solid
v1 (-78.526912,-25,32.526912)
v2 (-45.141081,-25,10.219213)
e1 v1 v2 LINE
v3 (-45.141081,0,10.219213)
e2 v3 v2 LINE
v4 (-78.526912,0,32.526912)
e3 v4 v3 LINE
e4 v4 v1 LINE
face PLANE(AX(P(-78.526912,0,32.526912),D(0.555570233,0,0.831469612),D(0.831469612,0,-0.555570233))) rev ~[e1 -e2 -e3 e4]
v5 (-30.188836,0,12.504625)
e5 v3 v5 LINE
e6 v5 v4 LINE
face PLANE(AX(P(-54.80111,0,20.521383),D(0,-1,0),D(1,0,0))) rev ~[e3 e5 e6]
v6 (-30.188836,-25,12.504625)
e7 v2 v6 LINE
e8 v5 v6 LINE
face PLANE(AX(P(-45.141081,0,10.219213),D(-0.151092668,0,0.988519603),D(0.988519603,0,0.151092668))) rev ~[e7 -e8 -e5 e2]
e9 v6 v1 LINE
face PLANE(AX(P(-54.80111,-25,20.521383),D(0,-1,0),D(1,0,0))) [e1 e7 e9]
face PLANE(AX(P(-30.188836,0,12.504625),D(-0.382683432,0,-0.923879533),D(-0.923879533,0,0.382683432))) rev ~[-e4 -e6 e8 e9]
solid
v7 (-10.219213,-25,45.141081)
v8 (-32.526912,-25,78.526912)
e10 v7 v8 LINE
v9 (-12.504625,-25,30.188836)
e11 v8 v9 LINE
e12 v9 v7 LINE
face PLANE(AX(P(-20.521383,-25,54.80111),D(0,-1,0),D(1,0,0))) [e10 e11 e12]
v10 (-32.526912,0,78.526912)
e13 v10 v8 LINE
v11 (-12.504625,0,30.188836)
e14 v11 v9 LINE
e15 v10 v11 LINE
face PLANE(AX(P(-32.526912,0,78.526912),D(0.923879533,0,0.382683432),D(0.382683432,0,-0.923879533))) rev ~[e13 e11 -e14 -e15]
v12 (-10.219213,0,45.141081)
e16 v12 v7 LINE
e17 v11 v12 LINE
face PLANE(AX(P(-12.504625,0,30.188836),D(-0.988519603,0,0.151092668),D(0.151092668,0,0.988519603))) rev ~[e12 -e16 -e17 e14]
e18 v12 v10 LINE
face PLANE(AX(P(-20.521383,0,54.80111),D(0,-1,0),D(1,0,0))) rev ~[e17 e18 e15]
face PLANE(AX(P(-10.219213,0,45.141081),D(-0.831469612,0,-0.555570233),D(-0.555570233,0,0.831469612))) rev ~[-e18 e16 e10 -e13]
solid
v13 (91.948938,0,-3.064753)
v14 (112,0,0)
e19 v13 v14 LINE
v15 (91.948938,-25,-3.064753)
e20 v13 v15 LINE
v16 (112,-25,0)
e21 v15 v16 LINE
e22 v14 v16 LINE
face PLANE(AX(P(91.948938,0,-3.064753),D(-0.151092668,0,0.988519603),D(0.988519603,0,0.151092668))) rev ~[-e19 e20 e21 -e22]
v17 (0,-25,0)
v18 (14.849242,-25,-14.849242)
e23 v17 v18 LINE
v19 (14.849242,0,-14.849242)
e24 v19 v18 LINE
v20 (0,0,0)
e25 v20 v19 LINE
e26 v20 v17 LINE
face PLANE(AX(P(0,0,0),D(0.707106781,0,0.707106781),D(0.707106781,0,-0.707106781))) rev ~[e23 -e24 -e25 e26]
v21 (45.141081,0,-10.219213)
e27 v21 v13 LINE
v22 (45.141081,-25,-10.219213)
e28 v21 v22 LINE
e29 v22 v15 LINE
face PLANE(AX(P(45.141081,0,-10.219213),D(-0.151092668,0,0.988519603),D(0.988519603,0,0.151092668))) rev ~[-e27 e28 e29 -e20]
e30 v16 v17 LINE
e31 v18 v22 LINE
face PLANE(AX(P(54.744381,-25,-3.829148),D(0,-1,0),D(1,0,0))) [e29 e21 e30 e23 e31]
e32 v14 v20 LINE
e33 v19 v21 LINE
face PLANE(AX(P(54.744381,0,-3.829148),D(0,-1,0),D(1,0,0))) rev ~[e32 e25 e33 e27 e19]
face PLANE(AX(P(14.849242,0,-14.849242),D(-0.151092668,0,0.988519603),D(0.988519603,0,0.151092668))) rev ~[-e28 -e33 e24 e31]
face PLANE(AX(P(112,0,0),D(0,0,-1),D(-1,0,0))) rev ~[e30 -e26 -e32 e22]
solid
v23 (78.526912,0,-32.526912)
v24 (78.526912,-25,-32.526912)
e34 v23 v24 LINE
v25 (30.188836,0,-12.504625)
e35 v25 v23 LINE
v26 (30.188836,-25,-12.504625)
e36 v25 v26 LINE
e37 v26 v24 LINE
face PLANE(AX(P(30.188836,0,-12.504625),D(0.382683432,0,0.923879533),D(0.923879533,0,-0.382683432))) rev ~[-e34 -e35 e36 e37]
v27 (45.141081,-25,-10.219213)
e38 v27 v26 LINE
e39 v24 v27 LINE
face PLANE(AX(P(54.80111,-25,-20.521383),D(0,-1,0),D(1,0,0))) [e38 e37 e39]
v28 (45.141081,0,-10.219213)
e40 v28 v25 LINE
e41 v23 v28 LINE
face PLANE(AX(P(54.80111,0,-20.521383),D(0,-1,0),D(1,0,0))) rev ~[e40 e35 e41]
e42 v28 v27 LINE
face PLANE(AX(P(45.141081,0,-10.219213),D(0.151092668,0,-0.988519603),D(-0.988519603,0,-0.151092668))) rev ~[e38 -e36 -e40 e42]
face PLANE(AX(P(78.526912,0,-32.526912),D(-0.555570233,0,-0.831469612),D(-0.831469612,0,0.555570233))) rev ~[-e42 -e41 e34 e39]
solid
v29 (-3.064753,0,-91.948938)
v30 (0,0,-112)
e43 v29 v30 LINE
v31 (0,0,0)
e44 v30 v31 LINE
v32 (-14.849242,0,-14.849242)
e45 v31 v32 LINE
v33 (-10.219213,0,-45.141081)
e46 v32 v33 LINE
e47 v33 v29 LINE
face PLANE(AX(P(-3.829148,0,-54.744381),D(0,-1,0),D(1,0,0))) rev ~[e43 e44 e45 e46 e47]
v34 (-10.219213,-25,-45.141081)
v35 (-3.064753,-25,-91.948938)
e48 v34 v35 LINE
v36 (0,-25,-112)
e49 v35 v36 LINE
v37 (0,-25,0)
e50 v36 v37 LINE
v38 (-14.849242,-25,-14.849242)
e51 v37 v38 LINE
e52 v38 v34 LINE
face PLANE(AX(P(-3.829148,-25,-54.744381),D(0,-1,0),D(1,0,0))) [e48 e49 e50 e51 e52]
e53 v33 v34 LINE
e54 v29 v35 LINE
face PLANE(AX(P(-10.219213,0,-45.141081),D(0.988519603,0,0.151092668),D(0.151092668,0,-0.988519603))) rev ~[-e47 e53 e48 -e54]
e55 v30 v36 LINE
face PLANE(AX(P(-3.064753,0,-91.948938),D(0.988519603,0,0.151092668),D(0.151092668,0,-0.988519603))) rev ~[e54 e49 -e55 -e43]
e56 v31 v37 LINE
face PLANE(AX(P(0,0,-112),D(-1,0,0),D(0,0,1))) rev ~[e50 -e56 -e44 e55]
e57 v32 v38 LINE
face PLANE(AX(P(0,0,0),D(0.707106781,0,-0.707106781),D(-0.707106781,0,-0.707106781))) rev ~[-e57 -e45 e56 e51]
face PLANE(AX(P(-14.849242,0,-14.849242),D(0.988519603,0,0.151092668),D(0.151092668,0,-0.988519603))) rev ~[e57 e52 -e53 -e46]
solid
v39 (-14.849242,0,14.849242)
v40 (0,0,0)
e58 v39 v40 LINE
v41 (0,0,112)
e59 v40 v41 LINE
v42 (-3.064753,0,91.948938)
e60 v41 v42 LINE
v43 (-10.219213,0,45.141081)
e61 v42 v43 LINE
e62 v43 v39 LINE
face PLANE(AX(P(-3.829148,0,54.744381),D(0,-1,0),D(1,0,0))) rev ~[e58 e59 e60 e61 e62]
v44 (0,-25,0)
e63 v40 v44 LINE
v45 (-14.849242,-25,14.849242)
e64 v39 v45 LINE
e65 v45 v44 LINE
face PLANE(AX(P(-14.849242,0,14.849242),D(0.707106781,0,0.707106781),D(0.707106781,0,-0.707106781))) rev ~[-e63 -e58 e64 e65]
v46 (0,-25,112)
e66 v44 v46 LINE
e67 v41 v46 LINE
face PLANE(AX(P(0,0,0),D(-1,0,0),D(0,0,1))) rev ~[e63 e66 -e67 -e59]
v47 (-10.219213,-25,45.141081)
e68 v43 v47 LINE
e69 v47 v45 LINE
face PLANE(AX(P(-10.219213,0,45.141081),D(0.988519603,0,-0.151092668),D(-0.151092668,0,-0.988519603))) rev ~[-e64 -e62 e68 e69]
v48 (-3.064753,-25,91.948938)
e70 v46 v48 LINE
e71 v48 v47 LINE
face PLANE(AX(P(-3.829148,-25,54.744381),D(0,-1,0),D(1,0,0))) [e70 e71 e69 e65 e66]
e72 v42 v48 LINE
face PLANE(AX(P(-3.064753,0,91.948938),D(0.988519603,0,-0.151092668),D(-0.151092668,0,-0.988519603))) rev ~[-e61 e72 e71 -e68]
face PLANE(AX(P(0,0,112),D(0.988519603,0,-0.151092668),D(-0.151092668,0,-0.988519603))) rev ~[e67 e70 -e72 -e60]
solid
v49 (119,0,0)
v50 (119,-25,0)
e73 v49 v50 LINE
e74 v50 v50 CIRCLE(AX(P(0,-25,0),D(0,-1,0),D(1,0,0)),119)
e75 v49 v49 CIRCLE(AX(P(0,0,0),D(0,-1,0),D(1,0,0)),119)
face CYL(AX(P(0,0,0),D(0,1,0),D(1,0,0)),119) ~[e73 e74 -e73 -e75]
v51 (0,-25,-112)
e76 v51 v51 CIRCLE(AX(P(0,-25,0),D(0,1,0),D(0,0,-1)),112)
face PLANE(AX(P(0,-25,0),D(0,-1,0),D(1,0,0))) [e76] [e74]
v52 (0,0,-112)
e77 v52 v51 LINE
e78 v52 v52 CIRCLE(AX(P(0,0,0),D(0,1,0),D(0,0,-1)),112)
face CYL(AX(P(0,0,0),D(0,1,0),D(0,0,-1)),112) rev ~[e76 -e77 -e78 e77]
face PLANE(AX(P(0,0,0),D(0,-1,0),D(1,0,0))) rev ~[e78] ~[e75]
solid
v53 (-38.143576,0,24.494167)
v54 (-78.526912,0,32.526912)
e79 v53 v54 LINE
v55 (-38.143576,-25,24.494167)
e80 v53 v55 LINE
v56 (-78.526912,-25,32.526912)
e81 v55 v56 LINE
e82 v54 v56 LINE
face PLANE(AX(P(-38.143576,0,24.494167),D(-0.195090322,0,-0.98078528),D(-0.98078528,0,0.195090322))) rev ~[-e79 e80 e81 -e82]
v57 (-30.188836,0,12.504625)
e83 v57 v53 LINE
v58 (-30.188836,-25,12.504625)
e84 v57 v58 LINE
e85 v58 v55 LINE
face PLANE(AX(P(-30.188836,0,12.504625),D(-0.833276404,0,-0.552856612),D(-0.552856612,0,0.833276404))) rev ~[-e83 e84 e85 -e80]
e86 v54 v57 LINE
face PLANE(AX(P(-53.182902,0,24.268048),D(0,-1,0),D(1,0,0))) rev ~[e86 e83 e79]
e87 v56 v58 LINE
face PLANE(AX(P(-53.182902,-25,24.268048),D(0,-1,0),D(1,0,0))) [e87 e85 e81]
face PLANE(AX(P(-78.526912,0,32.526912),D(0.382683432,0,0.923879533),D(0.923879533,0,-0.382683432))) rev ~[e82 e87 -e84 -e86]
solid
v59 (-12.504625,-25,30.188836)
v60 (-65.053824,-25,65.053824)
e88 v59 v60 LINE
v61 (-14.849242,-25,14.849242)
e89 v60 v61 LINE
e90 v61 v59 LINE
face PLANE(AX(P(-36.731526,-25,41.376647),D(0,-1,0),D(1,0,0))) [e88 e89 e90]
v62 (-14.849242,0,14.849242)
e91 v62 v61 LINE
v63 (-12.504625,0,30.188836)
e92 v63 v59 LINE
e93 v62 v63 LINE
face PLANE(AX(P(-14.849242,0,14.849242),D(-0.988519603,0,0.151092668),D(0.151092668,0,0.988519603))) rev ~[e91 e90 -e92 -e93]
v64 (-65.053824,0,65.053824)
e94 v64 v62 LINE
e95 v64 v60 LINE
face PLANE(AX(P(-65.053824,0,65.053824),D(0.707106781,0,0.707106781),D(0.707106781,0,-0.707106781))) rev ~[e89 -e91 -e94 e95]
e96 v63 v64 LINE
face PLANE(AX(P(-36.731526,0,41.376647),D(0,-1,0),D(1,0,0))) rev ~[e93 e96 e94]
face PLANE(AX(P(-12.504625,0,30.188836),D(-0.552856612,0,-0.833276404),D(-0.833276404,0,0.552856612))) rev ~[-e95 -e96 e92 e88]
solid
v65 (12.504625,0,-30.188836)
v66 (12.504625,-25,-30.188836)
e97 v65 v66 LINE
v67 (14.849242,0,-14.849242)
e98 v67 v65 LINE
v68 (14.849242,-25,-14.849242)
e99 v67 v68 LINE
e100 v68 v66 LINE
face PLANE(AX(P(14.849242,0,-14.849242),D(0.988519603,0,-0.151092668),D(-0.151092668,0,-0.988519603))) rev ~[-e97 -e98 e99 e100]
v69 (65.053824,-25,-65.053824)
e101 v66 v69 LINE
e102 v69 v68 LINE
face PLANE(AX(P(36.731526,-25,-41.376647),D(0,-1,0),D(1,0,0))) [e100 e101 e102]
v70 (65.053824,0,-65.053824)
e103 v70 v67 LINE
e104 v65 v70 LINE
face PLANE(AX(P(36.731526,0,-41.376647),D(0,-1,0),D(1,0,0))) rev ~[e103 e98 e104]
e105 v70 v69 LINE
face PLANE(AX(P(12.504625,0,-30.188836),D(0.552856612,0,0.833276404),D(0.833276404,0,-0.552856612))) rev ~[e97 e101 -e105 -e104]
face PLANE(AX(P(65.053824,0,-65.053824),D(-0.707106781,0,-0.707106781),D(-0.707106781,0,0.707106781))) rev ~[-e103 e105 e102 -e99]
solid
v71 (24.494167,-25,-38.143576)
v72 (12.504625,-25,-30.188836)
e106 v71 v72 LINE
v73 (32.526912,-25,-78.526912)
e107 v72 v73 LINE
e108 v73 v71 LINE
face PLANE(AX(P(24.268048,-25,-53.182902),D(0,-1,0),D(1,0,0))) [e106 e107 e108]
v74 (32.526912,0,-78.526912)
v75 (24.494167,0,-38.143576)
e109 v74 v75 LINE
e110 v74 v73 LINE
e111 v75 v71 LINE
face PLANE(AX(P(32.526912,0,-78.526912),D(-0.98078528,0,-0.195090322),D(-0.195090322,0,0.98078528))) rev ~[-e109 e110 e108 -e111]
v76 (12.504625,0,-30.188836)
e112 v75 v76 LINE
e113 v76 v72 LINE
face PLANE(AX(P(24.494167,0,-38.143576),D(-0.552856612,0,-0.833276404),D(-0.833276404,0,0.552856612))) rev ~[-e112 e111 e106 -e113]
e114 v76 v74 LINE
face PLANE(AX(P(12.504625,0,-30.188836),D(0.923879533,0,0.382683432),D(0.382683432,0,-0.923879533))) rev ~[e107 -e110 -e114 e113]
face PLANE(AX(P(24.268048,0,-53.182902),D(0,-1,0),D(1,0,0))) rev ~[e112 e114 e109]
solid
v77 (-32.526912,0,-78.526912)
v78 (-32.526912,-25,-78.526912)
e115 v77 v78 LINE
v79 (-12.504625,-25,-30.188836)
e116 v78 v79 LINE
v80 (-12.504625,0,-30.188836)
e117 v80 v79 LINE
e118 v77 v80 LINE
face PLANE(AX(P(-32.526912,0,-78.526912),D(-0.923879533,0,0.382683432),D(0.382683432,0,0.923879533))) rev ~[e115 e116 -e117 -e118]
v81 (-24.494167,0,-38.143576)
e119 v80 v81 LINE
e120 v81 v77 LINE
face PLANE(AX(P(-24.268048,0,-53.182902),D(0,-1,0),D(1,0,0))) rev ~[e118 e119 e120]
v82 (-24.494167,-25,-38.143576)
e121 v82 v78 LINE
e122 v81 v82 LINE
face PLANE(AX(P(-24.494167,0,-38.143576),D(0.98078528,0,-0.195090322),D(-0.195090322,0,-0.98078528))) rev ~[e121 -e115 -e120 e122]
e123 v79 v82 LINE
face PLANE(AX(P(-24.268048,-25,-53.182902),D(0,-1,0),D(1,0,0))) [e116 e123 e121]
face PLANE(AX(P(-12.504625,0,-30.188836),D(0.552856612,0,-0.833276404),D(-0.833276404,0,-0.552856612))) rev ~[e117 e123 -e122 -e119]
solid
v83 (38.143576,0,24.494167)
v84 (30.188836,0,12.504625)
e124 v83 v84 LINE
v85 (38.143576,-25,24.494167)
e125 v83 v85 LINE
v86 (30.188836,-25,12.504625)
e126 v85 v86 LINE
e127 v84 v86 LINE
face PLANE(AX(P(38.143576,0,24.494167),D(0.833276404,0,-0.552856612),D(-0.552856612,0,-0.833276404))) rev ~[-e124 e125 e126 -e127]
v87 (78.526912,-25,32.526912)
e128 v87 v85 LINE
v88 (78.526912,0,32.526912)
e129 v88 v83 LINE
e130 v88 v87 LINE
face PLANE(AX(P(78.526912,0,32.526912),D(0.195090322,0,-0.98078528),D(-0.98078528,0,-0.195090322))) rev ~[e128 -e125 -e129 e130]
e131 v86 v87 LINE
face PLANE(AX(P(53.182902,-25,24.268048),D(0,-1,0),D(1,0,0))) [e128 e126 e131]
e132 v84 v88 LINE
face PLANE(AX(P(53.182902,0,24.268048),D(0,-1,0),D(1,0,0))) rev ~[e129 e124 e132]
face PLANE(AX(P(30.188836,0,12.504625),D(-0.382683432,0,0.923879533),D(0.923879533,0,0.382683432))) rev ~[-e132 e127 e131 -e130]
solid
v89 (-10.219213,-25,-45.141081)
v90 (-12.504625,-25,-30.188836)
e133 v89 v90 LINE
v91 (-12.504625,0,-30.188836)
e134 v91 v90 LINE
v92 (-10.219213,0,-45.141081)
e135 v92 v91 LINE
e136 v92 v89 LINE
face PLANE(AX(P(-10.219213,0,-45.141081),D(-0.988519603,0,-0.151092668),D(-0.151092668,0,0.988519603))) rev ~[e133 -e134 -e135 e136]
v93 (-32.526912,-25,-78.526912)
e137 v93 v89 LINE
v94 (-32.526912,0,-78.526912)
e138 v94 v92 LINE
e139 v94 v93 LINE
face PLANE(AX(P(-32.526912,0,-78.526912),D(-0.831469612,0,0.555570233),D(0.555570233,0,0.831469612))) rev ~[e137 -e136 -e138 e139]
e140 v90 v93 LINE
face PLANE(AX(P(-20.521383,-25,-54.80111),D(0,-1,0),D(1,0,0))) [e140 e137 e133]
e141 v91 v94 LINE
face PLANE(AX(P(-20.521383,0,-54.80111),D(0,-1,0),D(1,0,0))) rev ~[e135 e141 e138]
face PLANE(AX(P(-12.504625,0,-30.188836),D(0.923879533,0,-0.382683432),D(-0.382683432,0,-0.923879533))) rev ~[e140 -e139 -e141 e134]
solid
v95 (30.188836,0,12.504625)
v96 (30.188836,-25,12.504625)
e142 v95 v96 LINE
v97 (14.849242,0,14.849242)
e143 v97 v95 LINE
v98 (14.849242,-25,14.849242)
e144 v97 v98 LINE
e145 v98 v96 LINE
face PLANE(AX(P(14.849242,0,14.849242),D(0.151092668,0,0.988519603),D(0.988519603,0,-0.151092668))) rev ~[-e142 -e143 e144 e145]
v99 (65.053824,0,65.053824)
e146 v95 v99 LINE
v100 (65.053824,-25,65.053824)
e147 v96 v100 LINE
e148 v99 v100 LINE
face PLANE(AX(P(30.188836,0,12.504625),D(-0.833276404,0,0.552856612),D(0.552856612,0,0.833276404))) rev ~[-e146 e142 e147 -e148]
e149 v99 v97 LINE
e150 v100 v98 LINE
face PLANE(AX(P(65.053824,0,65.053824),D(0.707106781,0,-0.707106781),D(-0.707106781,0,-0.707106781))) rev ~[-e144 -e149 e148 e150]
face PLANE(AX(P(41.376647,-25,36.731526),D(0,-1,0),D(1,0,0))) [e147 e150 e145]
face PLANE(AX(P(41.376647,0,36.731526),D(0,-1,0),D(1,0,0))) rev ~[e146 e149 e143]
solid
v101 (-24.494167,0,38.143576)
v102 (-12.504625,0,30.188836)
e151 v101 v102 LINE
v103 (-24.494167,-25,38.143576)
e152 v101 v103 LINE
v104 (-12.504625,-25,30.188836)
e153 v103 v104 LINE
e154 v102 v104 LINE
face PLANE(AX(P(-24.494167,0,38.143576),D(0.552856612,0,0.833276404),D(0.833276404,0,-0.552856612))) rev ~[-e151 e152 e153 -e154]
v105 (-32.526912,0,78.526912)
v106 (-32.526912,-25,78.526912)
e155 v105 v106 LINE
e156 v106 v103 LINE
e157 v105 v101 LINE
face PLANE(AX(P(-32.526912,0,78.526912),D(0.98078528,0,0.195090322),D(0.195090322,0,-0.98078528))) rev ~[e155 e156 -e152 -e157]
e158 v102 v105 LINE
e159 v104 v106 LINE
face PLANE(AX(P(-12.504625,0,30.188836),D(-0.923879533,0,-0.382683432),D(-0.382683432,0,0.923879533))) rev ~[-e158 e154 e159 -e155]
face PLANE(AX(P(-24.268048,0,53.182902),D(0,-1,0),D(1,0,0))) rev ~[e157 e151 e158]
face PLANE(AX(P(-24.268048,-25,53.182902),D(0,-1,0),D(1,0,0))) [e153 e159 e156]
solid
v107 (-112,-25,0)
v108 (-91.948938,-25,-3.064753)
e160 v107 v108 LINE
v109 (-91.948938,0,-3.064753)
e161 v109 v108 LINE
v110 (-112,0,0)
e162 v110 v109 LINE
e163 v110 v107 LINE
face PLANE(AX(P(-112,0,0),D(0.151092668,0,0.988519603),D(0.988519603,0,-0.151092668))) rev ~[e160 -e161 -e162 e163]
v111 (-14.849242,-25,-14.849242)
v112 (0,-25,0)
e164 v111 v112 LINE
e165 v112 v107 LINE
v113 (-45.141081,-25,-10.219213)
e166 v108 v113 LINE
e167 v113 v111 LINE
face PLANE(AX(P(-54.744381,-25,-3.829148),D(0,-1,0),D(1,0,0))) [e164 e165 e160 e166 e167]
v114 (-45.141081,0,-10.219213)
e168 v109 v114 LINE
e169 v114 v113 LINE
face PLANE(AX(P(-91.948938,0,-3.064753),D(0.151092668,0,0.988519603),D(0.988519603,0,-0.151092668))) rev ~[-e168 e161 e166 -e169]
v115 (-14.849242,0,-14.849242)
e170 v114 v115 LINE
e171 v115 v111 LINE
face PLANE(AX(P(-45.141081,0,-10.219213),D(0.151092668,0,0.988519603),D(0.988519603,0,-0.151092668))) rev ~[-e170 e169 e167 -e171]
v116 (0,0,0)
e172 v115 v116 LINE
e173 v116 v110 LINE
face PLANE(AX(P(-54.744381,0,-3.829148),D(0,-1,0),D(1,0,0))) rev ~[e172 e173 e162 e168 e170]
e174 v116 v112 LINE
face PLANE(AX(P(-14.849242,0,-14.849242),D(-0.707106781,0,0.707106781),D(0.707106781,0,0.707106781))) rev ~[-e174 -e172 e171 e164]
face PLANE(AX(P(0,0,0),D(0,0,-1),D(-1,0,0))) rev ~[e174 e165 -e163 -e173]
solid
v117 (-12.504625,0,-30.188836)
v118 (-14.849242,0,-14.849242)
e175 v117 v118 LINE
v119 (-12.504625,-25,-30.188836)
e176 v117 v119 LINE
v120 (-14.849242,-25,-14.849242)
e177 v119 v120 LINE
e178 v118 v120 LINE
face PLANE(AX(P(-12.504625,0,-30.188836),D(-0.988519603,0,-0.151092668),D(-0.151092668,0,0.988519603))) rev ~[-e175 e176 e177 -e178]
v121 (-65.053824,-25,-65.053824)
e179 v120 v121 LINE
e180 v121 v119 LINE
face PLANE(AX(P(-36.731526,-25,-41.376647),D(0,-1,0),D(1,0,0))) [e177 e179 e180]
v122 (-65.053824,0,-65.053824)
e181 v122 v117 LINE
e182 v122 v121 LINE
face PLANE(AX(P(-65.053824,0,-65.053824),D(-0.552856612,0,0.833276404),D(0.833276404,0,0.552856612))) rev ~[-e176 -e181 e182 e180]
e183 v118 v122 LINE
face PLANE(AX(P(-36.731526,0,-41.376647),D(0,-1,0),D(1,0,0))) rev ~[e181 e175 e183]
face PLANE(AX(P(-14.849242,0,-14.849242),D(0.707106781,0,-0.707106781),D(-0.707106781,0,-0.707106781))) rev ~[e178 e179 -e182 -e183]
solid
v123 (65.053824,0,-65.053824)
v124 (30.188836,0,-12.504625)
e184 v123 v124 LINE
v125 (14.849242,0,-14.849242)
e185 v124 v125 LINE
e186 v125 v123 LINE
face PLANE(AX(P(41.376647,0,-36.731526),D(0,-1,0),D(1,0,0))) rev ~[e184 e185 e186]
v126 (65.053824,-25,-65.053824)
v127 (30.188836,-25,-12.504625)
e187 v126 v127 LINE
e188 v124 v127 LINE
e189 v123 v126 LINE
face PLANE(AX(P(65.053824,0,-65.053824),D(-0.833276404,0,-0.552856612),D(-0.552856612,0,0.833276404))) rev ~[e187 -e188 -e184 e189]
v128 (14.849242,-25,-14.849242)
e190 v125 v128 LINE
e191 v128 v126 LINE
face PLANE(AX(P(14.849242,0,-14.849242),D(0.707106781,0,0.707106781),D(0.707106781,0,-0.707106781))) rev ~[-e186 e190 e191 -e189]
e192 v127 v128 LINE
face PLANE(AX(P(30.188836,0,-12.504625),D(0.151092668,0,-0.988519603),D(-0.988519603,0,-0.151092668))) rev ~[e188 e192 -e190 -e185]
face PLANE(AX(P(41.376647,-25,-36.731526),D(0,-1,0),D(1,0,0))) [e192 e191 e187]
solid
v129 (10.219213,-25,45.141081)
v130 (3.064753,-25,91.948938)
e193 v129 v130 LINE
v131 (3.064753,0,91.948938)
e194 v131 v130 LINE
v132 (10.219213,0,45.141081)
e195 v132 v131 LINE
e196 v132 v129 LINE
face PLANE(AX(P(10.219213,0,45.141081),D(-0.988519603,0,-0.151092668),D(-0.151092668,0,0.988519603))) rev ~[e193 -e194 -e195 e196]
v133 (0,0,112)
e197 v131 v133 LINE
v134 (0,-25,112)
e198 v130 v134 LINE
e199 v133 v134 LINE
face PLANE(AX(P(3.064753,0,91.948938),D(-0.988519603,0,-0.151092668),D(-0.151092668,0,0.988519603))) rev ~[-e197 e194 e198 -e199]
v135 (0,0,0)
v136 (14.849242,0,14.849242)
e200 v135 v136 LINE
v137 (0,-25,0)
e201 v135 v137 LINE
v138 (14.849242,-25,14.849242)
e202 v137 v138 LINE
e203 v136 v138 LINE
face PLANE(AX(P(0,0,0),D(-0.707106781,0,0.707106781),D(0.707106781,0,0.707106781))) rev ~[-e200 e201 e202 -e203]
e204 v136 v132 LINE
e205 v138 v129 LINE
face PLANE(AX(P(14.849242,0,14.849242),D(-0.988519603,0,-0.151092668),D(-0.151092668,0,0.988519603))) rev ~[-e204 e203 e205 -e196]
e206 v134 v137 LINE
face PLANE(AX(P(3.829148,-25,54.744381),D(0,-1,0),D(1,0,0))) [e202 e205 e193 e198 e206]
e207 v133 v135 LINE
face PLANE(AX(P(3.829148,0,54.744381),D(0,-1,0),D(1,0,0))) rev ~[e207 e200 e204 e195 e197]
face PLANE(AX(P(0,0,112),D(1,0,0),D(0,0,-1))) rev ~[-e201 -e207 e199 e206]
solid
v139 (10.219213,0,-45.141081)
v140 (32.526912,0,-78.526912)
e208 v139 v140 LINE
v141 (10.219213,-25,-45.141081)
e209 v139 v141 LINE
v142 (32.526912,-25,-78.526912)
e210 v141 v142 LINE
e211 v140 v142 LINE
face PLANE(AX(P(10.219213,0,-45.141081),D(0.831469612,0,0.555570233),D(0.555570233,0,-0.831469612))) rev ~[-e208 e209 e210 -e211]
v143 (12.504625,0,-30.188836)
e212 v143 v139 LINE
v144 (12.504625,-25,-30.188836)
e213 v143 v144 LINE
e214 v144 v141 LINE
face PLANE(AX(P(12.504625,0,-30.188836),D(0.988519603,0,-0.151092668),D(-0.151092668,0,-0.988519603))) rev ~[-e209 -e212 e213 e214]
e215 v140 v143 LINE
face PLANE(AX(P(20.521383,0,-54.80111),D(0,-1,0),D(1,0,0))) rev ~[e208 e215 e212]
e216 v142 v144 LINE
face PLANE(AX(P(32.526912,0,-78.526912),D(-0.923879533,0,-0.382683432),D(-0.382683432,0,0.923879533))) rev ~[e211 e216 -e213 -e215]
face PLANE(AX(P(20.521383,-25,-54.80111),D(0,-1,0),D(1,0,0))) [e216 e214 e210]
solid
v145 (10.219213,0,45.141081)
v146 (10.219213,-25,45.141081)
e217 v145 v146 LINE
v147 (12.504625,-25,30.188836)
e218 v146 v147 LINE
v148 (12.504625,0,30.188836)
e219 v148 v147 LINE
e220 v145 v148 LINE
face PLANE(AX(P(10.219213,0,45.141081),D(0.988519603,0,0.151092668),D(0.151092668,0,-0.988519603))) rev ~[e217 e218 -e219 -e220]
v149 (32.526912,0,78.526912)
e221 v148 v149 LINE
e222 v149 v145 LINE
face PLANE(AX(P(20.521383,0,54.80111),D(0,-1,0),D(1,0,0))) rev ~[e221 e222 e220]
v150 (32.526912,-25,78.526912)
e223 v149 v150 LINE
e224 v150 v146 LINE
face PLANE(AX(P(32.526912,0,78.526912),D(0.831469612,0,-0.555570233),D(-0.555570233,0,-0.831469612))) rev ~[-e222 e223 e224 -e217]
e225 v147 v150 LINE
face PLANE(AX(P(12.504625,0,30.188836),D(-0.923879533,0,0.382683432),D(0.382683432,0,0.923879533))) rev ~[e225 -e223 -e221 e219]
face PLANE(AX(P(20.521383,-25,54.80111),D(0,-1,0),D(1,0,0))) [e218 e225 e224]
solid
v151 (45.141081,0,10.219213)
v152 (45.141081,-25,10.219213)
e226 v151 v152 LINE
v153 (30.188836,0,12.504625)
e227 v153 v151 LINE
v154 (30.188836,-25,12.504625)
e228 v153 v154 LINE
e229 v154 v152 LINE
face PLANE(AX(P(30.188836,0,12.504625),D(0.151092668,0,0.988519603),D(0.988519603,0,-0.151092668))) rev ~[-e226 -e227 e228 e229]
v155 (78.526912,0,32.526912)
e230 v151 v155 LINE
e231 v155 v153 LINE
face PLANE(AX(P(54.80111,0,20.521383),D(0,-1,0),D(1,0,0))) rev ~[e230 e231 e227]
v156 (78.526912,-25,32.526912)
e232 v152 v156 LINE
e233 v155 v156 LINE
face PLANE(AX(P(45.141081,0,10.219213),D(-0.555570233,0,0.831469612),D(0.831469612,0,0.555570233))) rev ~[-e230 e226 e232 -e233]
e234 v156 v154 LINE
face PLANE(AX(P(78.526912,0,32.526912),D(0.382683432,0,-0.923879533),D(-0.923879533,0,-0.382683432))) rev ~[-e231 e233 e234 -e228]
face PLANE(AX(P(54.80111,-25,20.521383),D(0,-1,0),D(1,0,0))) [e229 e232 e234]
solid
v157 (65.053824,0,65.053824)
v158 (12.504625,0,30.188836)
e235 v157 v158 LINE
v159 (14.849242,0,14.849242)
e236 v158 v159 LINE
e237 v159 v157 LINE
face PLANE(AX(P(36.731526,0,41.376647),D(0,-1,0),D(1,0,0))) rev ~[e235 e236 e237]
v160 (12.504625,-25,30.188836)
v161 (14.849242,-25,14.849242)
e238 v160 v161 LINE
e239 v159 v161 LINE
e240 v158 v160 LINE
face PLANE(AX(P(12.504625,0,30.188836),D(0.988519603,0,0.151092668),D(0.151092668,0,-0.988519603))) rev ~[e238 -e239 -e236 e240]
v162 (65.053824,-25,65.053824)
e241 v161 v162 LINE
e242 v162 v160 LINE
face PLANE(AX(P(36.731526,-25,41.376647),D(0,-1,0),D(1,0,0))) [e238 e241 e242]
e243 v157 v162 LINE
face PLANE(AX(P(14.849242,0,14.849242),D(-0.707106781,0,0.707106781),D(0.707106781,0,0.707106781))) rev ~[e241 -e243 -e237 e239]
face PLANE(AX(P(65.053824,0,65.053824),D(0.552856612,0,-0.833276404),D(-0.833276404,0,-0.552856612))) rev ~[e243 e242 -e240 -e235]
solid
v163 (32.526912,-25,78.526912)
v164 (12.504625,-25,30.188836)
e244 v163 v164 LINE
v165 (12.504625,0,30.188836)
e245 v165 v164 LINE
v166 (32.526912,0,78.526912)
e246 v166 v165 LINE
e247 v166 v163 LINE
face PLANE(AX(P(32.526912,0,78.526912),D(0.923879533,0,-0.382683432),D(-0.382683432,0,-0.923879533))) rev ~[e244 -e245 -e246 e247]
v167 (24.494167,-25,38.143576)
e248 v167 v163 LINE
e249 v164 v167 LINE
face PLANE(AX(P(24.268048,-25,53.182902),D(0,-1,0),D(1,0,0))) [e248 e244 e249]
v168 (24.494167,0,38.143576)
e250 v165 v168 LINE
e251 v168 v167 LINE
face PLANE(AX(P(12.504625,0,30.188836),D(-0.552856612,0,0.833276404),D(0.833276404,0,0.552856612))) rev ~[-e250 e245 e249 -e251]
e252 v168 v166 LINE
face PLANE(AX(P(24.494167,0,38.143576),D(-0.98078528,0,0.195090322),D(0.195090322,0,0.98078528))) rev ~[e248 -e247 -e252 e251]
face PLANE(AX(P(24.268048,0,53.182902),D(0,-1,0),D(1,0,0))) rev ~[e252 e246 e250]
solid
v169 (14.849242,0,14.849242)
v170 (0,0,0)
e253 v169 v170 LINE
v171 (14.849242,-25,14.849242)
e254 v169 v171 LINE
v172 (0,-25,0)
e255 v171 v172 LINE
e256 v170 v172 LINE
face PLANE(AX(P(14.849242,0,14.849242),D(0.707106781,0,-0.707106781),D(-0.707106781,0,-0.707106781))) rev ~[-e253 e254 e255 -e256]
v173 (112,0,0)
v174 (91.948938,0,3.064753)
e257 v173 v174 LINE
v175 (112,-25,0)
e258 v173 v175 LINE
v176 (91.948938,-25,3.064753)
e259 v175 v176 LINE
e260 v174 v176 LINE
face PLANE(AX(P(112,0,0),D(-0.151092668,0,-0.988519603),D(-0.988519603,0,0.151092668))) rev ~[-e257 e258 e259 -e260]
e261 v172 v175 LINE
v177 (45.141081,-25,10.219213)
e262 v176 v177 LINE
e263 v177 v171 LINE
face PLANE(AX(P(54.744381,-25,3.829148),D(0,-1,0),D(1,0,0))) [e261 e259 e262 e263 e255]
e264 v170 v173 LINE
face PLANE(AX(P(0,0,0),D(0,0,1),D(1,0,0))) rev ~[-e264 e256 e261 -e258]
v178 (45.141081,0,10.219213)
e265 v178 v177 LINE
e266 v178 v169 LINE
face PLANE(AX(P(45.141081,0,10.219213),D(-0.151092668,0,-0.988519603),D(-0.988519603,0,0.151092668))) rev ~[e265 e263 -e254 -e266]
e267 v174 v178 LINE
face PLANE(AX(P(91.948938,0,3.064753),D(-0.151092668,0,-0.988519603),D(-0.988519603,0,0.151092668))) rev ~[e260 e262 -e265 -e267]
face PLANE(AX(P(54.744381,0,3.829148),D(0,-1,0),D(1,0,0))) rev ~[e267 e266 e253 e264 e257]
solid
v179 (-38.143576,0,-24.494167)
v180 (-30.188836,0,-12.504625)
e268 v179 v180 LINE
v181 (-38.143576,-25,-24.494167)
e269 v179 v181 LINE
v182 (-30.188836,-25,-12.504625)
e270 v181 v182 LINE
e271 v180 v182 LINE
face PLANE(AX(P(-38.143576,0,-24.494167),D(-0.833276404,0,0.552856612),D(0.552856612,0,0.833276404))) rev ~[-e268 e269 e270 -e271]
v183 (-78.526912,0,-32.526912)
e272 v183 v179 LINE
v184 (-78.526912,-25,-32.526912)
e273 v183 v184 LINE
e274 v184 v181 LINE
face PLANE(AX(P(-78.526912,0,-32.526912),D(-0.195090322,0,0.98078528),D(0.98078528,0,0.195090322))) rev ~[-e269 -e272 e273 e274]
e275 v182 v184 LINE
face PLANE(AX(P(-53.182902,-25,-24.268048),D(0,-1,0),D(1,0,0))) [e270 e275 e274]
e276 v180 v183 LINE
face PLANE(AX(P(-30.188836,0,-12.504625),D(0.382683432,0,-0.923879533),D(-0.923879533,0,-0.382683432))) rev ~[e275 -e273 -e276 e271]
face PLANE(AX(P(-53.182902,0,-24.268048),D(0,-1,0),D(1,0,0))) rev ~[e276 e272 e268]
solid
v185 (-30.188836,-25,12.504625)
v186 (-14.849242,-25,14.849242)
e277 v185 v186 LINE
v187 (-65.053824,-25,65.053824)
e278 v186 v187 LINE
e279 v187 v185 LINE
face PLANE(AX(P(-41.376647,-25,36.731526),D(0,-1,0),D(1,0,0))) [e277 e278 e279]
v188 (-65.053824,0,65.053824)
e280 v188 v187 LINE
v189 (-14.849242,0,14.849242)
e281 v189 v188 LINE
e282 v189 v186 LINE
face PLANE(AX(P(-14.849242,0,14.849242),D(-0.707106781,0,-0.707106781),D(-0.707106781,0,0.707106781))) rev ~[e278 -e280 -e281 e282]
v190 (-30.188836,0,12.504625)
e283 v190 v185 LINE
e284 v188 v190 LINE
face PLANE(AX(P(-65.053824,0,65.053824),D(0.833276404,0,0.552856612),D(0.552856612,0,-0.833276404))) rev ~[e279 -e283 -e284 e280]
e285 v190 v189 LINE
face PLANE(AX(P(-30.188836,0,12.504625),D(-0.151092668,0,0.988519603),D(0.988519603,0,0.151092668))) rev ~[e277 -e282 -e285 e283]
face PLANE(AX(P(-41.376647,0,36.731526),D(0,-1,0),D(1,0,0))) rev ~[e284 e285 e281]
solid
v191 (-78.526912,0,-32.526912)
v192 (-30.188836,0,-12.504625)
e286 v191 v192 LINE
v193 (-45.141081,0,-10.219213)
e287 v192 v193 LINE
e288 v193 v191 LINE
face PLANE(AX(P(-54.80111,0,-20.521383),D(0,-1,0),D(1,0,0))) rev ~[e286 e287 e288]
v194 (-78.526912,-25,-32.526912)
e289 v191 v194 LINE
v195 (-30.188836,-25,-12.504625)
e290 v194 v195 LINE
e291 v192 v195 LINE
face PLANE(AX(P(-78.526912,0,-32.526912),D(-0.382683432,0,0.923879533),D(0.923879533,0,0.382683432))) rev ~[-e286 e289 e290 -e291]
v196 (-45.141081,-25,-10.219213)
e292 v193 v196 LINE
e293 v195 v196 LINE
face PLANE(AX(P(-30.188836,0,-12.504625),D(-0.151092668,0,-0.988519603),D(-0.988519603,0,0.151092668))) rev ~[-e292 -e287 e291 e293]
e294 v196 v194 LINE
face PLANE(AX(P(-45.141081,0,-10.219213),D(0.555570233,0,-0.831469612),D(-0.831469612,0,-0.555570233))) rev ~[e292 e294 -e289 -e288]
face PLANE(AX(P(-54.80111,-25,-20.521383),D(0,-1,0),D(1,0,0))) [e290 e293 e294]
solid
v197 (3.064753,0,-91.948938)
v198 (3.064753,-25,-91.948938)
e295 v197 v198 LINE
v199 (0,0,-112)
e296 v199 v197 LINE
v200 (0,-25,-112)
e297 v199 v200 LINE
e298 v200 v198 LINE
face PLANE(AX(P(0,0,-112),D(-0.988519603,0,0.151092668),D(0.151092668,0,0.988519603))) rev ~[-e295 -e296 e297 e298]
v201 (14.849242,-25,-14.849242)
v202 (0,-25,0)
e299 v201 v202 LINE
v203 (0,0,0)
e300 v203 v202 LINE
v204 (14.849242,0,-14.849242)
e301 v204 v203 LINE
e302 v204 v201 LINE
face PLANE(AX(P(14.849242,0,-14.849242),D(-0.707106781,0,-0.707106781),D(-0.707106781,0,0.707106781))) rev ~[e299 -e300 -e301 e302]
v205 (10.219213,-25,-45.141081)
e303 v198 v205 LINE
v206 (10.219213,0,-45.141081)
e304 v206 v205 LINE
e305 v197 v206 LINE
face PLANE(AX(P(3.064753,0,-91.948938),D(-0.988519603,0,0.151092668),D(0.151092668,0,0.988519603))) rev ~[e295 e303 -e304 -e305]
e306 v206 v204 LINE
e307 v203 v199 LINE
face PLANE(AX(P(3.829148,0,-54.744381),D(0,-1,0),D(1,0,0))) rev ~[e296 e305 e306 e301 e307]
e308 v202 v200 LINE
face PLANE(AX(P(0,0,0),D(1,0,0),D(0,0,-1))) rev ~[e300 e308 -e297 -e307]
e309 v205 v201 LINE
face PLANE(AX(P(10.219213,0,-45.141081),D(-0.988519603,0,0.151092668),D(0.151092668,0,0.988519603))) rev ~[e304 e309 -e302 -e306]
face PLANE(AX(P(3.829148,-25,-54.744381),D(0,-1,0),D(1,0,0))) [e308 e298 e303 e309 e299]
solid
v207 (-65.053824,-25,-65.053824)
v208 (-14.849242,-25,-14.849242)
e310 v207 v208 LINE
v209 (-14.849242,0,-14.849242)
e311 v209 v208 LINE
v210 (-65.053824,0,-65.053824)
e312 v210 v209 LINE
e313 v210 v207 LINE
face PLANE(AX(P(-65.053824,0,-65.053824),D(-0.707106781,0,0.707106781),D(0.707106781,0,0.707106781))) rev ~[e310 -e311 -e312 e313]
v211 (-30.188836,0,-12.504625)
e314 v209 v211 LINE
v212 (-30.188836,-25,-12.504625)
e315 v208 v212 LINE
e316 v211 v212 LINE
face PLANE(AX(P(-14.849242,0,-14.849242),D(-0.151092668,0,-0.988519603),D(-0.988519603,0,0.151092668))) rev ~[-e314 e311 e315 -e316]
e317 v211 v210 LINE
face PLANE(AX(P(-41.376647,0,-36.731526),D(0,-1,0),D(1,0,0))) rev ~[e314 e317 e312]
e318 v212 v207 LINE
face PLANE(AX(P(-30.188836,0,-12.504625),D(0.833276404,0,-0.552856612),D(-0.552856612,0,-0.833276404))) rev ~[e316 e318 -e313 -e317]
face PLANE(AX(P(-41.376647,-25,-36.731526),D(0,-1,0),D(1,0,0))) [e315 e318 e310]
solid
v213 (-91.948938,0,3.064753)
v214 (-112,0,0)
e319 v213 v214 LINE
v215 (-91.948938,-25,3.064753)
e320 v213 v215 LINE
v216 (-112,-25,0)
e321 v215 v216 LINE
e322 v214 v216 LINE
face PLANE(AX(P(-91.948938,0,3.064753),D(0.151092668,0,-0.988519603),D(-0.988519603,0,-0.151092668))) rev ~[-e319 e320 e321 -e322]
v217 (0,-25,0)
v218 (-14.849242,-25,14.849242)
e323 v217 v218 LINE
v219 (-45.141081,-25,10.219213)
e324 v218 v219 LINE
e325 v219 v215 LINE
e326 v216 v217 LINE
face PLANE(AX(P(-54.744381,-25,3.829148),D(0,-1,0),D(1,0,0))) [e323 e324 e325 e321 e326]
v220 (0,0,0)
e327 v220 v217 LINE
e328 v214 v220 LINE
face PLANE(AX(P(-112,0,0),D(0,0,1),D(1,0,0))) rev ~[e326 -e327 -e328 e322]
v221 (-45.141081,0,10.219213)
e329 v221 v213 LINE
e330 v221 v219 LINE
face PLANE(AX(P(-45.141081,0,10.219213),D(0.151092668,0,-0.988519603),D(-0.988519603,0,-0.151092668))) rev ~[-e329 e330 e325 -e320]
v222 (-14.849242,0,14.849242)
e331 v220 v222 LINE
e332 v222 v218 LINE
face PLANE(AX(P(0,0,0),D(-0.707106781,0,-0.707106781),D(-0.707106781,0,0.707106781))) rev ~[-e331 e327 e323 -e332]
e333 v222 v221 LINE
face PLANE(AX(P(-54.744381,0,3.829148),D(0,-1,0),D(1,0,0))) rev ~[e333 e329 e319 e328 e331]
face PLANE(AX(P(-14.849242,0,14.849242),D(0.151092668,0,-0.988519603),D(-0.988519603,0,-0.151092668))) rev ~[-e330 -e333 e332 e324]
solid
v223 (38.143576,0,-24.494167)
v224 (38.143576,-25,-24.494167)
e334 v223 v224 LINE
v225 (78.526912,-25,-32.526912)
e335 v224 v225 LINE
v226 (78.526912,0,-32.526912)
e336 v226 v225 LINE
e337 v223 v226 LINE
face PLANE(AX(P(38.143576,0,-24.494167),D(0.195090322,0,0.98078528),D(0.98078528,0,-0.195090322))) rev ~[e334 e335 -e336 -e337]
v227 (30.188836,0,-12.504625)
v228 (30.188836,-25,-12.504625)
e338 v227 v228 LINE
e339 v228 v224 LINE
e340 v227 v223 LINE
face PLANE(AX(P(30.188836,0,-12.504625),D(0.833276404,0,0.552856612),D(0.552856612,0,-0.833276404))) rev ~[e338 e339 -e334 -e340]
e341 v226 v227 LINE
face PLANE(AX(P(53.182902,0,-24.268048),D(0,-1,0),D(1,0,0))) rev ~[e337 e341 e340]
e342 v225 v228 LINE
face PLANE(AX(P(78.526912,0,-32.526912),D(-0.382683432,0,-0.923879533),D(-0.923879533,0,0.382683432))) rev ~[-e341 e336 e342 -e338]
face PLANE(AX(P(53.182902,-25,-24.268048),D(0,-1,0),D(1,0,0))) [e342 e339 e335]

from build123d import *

# Parameters (mm, degrees)
F1_DEPTH = 25
F0_R     = 119
F2_DEPTH = 25


with BuildPart() as f1:
    # F0 (on Front) → F1 (new body)
    with BuildSketch(Plane.XZ):
        Polygon((0, -112), (0, 0), (-14.8492424049, -14.8492424049), (-12.5046251831, -30.1888357094), (-10.2192130658, -45.1410812557), (-3.0647529698, -91.9489384889), align=None)
    extrude(amount=F1_DEPTH)


with BuildPart() as f1b:
    # F0 (on Front) → F1, piece 2 (new body)
    with BuildSketch(Plane.XZ):
        Polygon((-112, 0), (0, 0), (-14.8492424049, 14.8492424049), (-30.1888357094, 12.5046251831), (-45.1410812557, 10.2192130658), (-91.9489384889, 3.0647529698), align=None)
    extrude(amount=F1_DEPTH)


with BuildPart() as f1c:
    # F0 (on Front) → F1, piece 3 (new body)
    with BuildSketch(Plane.XZ):
        Polygon((0, 112), (0, 0), (14.8492424049, 14.8492424049), (12.5046251831, 30.1888357094), (10.2192130658, 45.1410812557), (3.0647529698, 91.9489384889), align=None)
    extrude(amount=F1_DEPTH)


with BuildPart() as f1d:
    # F0 (on Front) → F1, piece 4 (new body)
    with BuildSketch(Plane.XZ):
        Polygon((112, 0), (0, 0), (14.8492424049, -14.8492424049), (30.1888357094, -12.5046251831), (45.1410812557, -10.2192130658), (91.9489384889, -3.0647529698), align=None)
    extrude(amount=F1_DEPTH)


with BuildPart() as f1e:
    # F0 (on Front) → F1, piece 5 (new body)
    with BuildSketch(Plane.XZ):
        Polygon((65.0538238692, -65.0538238692), (14.8492424049, -14.8492424049), (12.5046251831, -30.1888357094), (24.4941670021, -38.1435761053), align=None)
    extrude(amount=F1_DEPTH)


with BuildPart() as f1f:
    # F0 (on Front) → F1, piece 6 (new body)
    with BuildSketch(Plane.XZ):
        Polygon((-65.0538238692, -65.0538238692), (-14.8492424049, -14.8492424049), (-30.1888357094, -12.5046251831), (-38.1435761053, -24.4941670021), align=None)
    extrude(amount=F1_DEPTH)


with BuildPart() as f1g:
    # F0 (on Front) → F1, piece 7 (new body)
    with BuildSketch(Plane.XZ):
        Polygon((-65.0538238692, 65.0538238692), (-14.8492424049, 14.8492424049), (-12.5046251831, 30.1888357094), (-24.4941670021, 38.1435761053), align=None)
    extrude(amount=F1_DEPTH)


with BuildPart() as f1h:
    # F0 (on Front) → F1, piece 8 (new body)
    with BuildSketch(Plane.XZ):
        Polygon((65.0538238692, 65.0538238692), (14.8492424049, 14.8492424049), (30.1888357094, 12.5046251831), (38.1435761053, 24.4941670021), align=None)
    extrude(amount=F1_DEPTH)


with BuildPart() as f1i:
    # F0 (on Front) → F1, piece 9 (new body)
    with BuildSketch(Plane.XZ):
        Polygon((32.5269119346, -78.5269119346), (12.5046251831, -30.1888357094), (10.2192130658, -45.1410812557), align=None)
    extrude(amount=F1_DEPTH)


with BuildPart() as f1j:
    # F0 (on Front) → F1, piece 10 (new body)
    with BuildSketch(Plane.XZ):
        Polygon((-32.5269119346, -78.5269119346), (-12.5046251831, -30.1888357094), (-24.4941670021, -38.1435761053), align=None)
    extrude(amount=F1_DEPTH)


with BuildPart() as f1k:
    # F0 (on Front) → F1, piece 11 (new body)
    with BuildSketch(Plane.XZ):
        Polygon((-78.5269119346, -32.5269119346), (-30.1888357094, -12.5046251831), (-45.1410812557, -10.2192130658), align=None)
    extrude(amount=F1_DEPTH)


with BuildPart() as f1l:
    # F0 (on Front) → F1, piece 12 (new body)
    with BuildSketch(Plane.XZ):
        Polygon((-78.5269119346, 32.5269119346), (-30.1888357094, 12.5046251831), (-38.1435761053, 24.4941670021), align=None)
    extrude(amount=F1_DEPTH)


with BuildPart() as f1m:
    # F0 (on Front) → F1, piece 13 (new body)
    with BuildSketch(Plane.XZ):
        Polygon((-32.5269119346, 78.5269119346), (-12.5046251831, 30.1888357094), (-10.2192130658, 45.1410812557), align=None)
    extrude(amount=F1_DEPTH)


with BuildPart() as f1n:
    # F0 (on Front) → F1, piece 14 (new body)
    with BuildSketch(Plane.XZ):
        Polygon((32.5269119346, 78.5269119346), (12.5046251831, 30.1888357094), (24.4941670021, 38.1435761053), align=None)
    extrude(amount=F1_DEPTH)


with BuildPart() as f1o:
    # F0 (on Front) → F1, piece 15 (new body)
    with BuildSketch(Plane.XZ):
        Polygon((78.5269119346, 32.5269119346), (30.1888357094, 12.5046251831), (45.1410812557, 10.2192130658), align=None)
    extrude(amount=F1_DEPTH)


with BuildPart() as f1p:
    # F0 (on Front) → F1, piece 16 (new body)
    with BuildSketch(Plane.XZ):
        Polygon((78.5269119346, -32.5269119346), (30.1888357094, -12.5046251831), (38.1435761053, -24.4941670021), align=None)
    extrude(amount=F1_DEPTH)


with BuildPart() as f1q:
    # F0 (on Front) → F1, piece 17 (new body)
    with BuildSketch(Plane.XZ):
        Circle(F0_R)
        with BuildLine():
            ThreePointArc((-112, 0), (-79.1959594929, 79.1959594929), (0, 112))
            ThreePointArc((0, 112), (79.1959594929, 79.1959594929), (112, 0))
            ThreePointArc((112, 0), (79.1959594929, -79.1959594929), (0, -112))
            ThreePointArc((0, -112), (-79.1959594929, -79.1959594929), (-112, 0))
        make_face(mode=Mode.SUBTRACT)
    extrude(amount=F1_DEPTH)


with BuildPart() as f2:
    # F0 (on Front) → F2 (new body)
    with BuildSketch(Plane.XZ):
        Polygon((-30.1888357094, 12.5046251831), (-14.8492424049, 14.8492424049), (-65.0538238692, 65.0538238692), (-38.1435761053, 24.4941670021), align=None)
    extrude(amount=F2_DEPTH)


with BuildPart() as f2b:
    # F0 (on Front) → F2, piece 2 (new body)
    with BuildSketch(Plane.XZ):
        Polygon((-24.4941670021, 38.1435761053), (-12.5046251831, 30.1888357094), (-32.5269119346, 78.5269119346), align=None)
    extrude(amount=F2_DEPTH)


with BuildPart() as f2c:
    # F0 (on Front) → F2, piece 3 (new body)
    with BuildSketch(Plane.XZ):
        Polygon((-14.8492424049, 14.8492424049), (0, 0), (0, 112), (-3.0647529698, 91.9489384889), (-10.2192130658, 45.1410812557), (-12.5046251831, 30.1888357094), align=None)
    extrude(amount=F2_DEPTH)


with BuildPart() as f2d:
    # F0 (on Front) → F2, piece 4 (new body)
    with BuildSketch(Plane.XZ):
        Polygon((10.2192130658, 45.1410812557), (12.5046251831, 30.1888357094), (32.5269119346, 78.5269119346), align=None)
    extrude(amount=F2_DEPTH)


with BuildPart() as f2e:
    # F0 (on Front) → F2, piece 5 (new body)
    with BuildSketch(Plane.XZ):
        Polygon((12.5046251831, 30.1888357094), (14.8492424049, 14.8492424049), (65.0538238692, 65.0538238692), (24.4941670021, 38.1435761053), align=None)
    extrude(amount=F2_DEPTH)


with BuildPart() as f2f:
    # F0 (on Front) → F2, piece 6 (new body)
    with BuildSketch(Plane.XZ):
        Polygon((14.8492424049, 14.8492424049), (0, 0), (112, 0), (91.9489384889, 3.0647529698), (45.1410812557, 10.2192130658), (30.1888357094, 12.5046251831), align=None)
    extrude(amount=F2_DEPTH)


with BuildPart() as f2g:
    # F0 (on Front) → F2, piece 7 (new body)
    with BuildSketch(Plane.XZ):
        Polygon((38.1435761053, 24.4941670021), (30.1888357094, 12.5046251831), (78.5269119346, 32.5269119346), align=None)
    extrude(amount=F2_DEPTH)


with BuildPart() as f2h:
    # F0 (on Front) → F2, piece 8 (new body)
    with BuildSketch(Plane.XZ):
        Polygon((45.1410812557, -10.2192130658), (30.1888357094, -12.5046251831), (78.5269119346, -32.5269119346), align=None)
    extrude(amount=F2_DEPTH)


with BuildPart() as f2i:
    # F0 (on Front) → F2, piece 9 (new body)
    with BuildSketch(Plane.XZ):
        Polygon((30.1888357094, -12.5046251831), (14.8492424049, -14.8492424049), (65.0538238692, -65.0538238692), (38.1435761053, -24.4941670021), align=None)
    extrude(amount=F2_DEPTH)


with BuildPart() as f2j:
    # F0 (on Front) → F2, piece 10 (new body)
    with BuildSketch(Plane.XZ):
        Polygon((24.4941670021, -38.1435761053), (12.5046251831, -30.1888357094), (32.5269119346, -78.5269119346), align=None)
    extrude(amount=F2_DEPTH)


with BuildPart() as f2k:
    # F0 (on Front) → F2, piece 11 (new body)
    with BuildSketch(Plane.XZ):
        Polygon((14.8492424049, -14.8492424049), (0, 0), (0, -112), (3.0647529698, -91.9489384889), (10.2192130658, -45.1410812557), (12.5046251831, -30.1888357094), align=None)
    extrude(amount=F2_DEPTH)


with BuildPart() as f2l:
    # F0 (on Front) → F2, piece 12 (new body)
    with BuildSketch(Plane.XZ):
        Polygon((-10.2192130658, -45.1410812557), (-12.5046251831, -30.1888357094), (-32.5269119346, -78.5269119346), align=None)
    extrude(amount=F2_DEPTH)


with BuildPart() as f2m:
    # F0 (on Front) → F2, piece 13 (new body)
    with BuildSketch(Plane.XZ):
        Polygon((-12.5046251831, -30.1888357094), (-14.8492424049, -14.8492424049), (-65.0538238692, -65.0538238692), (-24.4941670021, -38.1435761053), align=None)
    extrude(amount=F2_DEPTH)


with BuildPart() as f2n:
    # F0 (on Front) → F2, piece 14 (new body)
    with BuildSketch(Plane.XZ):
        Polygon((-38.1435761053, -24.4941670021), (-30.1888357094, -12.5046251831), (-78.5269119346, -32.5269119346), align=None)
    extrude(amount=F2_DEPTH)


with BuildPart() as f2o:
    # F0 (on Front) → F2, piece 15 (new body)
    with BuildSketch(Plane.XZ):
        Polygon((-14.8492424049, -14.8492424049), (0, 0), (-112, 0), (-91.9489384889, -3.0647529698), (-45.1410812557, -10.2192130658), (-30.1888357094, -12.5046251831), align=None)
    extrude(amount=F2_DEPTH)


with BuildPart() as f2p:
    # F0 (on Front) → F2, piece 16 (new body)
    with BuildSketch(Plane.XZ):
        Polygon((-45.1410812557, 10.2192130658), (-30.1888357094, 12.5046251831), (-78.5269119346, 32.5269119346), align=None)
    extrude(amount=F2_DEPTH)


solid = Compound([f1.part, f1b.part, f1c.part, f1d.part, f1e.part, f1f.part, f1g.part, f1h.part, f1i.part, f1j.part, f1k.part, f1l.part, f1m.part, f1n.part, f1o.part, f1p.part, f1q.part, f2.part, f2b.part, f2c.part, f2d.part, f2e.part, f2f.part, f2g.part, f2h.part, f2i.part, f2j.part, f2k.part, f2l.part, f2m.part, f2n.part, f2o.part, f2p.part])
